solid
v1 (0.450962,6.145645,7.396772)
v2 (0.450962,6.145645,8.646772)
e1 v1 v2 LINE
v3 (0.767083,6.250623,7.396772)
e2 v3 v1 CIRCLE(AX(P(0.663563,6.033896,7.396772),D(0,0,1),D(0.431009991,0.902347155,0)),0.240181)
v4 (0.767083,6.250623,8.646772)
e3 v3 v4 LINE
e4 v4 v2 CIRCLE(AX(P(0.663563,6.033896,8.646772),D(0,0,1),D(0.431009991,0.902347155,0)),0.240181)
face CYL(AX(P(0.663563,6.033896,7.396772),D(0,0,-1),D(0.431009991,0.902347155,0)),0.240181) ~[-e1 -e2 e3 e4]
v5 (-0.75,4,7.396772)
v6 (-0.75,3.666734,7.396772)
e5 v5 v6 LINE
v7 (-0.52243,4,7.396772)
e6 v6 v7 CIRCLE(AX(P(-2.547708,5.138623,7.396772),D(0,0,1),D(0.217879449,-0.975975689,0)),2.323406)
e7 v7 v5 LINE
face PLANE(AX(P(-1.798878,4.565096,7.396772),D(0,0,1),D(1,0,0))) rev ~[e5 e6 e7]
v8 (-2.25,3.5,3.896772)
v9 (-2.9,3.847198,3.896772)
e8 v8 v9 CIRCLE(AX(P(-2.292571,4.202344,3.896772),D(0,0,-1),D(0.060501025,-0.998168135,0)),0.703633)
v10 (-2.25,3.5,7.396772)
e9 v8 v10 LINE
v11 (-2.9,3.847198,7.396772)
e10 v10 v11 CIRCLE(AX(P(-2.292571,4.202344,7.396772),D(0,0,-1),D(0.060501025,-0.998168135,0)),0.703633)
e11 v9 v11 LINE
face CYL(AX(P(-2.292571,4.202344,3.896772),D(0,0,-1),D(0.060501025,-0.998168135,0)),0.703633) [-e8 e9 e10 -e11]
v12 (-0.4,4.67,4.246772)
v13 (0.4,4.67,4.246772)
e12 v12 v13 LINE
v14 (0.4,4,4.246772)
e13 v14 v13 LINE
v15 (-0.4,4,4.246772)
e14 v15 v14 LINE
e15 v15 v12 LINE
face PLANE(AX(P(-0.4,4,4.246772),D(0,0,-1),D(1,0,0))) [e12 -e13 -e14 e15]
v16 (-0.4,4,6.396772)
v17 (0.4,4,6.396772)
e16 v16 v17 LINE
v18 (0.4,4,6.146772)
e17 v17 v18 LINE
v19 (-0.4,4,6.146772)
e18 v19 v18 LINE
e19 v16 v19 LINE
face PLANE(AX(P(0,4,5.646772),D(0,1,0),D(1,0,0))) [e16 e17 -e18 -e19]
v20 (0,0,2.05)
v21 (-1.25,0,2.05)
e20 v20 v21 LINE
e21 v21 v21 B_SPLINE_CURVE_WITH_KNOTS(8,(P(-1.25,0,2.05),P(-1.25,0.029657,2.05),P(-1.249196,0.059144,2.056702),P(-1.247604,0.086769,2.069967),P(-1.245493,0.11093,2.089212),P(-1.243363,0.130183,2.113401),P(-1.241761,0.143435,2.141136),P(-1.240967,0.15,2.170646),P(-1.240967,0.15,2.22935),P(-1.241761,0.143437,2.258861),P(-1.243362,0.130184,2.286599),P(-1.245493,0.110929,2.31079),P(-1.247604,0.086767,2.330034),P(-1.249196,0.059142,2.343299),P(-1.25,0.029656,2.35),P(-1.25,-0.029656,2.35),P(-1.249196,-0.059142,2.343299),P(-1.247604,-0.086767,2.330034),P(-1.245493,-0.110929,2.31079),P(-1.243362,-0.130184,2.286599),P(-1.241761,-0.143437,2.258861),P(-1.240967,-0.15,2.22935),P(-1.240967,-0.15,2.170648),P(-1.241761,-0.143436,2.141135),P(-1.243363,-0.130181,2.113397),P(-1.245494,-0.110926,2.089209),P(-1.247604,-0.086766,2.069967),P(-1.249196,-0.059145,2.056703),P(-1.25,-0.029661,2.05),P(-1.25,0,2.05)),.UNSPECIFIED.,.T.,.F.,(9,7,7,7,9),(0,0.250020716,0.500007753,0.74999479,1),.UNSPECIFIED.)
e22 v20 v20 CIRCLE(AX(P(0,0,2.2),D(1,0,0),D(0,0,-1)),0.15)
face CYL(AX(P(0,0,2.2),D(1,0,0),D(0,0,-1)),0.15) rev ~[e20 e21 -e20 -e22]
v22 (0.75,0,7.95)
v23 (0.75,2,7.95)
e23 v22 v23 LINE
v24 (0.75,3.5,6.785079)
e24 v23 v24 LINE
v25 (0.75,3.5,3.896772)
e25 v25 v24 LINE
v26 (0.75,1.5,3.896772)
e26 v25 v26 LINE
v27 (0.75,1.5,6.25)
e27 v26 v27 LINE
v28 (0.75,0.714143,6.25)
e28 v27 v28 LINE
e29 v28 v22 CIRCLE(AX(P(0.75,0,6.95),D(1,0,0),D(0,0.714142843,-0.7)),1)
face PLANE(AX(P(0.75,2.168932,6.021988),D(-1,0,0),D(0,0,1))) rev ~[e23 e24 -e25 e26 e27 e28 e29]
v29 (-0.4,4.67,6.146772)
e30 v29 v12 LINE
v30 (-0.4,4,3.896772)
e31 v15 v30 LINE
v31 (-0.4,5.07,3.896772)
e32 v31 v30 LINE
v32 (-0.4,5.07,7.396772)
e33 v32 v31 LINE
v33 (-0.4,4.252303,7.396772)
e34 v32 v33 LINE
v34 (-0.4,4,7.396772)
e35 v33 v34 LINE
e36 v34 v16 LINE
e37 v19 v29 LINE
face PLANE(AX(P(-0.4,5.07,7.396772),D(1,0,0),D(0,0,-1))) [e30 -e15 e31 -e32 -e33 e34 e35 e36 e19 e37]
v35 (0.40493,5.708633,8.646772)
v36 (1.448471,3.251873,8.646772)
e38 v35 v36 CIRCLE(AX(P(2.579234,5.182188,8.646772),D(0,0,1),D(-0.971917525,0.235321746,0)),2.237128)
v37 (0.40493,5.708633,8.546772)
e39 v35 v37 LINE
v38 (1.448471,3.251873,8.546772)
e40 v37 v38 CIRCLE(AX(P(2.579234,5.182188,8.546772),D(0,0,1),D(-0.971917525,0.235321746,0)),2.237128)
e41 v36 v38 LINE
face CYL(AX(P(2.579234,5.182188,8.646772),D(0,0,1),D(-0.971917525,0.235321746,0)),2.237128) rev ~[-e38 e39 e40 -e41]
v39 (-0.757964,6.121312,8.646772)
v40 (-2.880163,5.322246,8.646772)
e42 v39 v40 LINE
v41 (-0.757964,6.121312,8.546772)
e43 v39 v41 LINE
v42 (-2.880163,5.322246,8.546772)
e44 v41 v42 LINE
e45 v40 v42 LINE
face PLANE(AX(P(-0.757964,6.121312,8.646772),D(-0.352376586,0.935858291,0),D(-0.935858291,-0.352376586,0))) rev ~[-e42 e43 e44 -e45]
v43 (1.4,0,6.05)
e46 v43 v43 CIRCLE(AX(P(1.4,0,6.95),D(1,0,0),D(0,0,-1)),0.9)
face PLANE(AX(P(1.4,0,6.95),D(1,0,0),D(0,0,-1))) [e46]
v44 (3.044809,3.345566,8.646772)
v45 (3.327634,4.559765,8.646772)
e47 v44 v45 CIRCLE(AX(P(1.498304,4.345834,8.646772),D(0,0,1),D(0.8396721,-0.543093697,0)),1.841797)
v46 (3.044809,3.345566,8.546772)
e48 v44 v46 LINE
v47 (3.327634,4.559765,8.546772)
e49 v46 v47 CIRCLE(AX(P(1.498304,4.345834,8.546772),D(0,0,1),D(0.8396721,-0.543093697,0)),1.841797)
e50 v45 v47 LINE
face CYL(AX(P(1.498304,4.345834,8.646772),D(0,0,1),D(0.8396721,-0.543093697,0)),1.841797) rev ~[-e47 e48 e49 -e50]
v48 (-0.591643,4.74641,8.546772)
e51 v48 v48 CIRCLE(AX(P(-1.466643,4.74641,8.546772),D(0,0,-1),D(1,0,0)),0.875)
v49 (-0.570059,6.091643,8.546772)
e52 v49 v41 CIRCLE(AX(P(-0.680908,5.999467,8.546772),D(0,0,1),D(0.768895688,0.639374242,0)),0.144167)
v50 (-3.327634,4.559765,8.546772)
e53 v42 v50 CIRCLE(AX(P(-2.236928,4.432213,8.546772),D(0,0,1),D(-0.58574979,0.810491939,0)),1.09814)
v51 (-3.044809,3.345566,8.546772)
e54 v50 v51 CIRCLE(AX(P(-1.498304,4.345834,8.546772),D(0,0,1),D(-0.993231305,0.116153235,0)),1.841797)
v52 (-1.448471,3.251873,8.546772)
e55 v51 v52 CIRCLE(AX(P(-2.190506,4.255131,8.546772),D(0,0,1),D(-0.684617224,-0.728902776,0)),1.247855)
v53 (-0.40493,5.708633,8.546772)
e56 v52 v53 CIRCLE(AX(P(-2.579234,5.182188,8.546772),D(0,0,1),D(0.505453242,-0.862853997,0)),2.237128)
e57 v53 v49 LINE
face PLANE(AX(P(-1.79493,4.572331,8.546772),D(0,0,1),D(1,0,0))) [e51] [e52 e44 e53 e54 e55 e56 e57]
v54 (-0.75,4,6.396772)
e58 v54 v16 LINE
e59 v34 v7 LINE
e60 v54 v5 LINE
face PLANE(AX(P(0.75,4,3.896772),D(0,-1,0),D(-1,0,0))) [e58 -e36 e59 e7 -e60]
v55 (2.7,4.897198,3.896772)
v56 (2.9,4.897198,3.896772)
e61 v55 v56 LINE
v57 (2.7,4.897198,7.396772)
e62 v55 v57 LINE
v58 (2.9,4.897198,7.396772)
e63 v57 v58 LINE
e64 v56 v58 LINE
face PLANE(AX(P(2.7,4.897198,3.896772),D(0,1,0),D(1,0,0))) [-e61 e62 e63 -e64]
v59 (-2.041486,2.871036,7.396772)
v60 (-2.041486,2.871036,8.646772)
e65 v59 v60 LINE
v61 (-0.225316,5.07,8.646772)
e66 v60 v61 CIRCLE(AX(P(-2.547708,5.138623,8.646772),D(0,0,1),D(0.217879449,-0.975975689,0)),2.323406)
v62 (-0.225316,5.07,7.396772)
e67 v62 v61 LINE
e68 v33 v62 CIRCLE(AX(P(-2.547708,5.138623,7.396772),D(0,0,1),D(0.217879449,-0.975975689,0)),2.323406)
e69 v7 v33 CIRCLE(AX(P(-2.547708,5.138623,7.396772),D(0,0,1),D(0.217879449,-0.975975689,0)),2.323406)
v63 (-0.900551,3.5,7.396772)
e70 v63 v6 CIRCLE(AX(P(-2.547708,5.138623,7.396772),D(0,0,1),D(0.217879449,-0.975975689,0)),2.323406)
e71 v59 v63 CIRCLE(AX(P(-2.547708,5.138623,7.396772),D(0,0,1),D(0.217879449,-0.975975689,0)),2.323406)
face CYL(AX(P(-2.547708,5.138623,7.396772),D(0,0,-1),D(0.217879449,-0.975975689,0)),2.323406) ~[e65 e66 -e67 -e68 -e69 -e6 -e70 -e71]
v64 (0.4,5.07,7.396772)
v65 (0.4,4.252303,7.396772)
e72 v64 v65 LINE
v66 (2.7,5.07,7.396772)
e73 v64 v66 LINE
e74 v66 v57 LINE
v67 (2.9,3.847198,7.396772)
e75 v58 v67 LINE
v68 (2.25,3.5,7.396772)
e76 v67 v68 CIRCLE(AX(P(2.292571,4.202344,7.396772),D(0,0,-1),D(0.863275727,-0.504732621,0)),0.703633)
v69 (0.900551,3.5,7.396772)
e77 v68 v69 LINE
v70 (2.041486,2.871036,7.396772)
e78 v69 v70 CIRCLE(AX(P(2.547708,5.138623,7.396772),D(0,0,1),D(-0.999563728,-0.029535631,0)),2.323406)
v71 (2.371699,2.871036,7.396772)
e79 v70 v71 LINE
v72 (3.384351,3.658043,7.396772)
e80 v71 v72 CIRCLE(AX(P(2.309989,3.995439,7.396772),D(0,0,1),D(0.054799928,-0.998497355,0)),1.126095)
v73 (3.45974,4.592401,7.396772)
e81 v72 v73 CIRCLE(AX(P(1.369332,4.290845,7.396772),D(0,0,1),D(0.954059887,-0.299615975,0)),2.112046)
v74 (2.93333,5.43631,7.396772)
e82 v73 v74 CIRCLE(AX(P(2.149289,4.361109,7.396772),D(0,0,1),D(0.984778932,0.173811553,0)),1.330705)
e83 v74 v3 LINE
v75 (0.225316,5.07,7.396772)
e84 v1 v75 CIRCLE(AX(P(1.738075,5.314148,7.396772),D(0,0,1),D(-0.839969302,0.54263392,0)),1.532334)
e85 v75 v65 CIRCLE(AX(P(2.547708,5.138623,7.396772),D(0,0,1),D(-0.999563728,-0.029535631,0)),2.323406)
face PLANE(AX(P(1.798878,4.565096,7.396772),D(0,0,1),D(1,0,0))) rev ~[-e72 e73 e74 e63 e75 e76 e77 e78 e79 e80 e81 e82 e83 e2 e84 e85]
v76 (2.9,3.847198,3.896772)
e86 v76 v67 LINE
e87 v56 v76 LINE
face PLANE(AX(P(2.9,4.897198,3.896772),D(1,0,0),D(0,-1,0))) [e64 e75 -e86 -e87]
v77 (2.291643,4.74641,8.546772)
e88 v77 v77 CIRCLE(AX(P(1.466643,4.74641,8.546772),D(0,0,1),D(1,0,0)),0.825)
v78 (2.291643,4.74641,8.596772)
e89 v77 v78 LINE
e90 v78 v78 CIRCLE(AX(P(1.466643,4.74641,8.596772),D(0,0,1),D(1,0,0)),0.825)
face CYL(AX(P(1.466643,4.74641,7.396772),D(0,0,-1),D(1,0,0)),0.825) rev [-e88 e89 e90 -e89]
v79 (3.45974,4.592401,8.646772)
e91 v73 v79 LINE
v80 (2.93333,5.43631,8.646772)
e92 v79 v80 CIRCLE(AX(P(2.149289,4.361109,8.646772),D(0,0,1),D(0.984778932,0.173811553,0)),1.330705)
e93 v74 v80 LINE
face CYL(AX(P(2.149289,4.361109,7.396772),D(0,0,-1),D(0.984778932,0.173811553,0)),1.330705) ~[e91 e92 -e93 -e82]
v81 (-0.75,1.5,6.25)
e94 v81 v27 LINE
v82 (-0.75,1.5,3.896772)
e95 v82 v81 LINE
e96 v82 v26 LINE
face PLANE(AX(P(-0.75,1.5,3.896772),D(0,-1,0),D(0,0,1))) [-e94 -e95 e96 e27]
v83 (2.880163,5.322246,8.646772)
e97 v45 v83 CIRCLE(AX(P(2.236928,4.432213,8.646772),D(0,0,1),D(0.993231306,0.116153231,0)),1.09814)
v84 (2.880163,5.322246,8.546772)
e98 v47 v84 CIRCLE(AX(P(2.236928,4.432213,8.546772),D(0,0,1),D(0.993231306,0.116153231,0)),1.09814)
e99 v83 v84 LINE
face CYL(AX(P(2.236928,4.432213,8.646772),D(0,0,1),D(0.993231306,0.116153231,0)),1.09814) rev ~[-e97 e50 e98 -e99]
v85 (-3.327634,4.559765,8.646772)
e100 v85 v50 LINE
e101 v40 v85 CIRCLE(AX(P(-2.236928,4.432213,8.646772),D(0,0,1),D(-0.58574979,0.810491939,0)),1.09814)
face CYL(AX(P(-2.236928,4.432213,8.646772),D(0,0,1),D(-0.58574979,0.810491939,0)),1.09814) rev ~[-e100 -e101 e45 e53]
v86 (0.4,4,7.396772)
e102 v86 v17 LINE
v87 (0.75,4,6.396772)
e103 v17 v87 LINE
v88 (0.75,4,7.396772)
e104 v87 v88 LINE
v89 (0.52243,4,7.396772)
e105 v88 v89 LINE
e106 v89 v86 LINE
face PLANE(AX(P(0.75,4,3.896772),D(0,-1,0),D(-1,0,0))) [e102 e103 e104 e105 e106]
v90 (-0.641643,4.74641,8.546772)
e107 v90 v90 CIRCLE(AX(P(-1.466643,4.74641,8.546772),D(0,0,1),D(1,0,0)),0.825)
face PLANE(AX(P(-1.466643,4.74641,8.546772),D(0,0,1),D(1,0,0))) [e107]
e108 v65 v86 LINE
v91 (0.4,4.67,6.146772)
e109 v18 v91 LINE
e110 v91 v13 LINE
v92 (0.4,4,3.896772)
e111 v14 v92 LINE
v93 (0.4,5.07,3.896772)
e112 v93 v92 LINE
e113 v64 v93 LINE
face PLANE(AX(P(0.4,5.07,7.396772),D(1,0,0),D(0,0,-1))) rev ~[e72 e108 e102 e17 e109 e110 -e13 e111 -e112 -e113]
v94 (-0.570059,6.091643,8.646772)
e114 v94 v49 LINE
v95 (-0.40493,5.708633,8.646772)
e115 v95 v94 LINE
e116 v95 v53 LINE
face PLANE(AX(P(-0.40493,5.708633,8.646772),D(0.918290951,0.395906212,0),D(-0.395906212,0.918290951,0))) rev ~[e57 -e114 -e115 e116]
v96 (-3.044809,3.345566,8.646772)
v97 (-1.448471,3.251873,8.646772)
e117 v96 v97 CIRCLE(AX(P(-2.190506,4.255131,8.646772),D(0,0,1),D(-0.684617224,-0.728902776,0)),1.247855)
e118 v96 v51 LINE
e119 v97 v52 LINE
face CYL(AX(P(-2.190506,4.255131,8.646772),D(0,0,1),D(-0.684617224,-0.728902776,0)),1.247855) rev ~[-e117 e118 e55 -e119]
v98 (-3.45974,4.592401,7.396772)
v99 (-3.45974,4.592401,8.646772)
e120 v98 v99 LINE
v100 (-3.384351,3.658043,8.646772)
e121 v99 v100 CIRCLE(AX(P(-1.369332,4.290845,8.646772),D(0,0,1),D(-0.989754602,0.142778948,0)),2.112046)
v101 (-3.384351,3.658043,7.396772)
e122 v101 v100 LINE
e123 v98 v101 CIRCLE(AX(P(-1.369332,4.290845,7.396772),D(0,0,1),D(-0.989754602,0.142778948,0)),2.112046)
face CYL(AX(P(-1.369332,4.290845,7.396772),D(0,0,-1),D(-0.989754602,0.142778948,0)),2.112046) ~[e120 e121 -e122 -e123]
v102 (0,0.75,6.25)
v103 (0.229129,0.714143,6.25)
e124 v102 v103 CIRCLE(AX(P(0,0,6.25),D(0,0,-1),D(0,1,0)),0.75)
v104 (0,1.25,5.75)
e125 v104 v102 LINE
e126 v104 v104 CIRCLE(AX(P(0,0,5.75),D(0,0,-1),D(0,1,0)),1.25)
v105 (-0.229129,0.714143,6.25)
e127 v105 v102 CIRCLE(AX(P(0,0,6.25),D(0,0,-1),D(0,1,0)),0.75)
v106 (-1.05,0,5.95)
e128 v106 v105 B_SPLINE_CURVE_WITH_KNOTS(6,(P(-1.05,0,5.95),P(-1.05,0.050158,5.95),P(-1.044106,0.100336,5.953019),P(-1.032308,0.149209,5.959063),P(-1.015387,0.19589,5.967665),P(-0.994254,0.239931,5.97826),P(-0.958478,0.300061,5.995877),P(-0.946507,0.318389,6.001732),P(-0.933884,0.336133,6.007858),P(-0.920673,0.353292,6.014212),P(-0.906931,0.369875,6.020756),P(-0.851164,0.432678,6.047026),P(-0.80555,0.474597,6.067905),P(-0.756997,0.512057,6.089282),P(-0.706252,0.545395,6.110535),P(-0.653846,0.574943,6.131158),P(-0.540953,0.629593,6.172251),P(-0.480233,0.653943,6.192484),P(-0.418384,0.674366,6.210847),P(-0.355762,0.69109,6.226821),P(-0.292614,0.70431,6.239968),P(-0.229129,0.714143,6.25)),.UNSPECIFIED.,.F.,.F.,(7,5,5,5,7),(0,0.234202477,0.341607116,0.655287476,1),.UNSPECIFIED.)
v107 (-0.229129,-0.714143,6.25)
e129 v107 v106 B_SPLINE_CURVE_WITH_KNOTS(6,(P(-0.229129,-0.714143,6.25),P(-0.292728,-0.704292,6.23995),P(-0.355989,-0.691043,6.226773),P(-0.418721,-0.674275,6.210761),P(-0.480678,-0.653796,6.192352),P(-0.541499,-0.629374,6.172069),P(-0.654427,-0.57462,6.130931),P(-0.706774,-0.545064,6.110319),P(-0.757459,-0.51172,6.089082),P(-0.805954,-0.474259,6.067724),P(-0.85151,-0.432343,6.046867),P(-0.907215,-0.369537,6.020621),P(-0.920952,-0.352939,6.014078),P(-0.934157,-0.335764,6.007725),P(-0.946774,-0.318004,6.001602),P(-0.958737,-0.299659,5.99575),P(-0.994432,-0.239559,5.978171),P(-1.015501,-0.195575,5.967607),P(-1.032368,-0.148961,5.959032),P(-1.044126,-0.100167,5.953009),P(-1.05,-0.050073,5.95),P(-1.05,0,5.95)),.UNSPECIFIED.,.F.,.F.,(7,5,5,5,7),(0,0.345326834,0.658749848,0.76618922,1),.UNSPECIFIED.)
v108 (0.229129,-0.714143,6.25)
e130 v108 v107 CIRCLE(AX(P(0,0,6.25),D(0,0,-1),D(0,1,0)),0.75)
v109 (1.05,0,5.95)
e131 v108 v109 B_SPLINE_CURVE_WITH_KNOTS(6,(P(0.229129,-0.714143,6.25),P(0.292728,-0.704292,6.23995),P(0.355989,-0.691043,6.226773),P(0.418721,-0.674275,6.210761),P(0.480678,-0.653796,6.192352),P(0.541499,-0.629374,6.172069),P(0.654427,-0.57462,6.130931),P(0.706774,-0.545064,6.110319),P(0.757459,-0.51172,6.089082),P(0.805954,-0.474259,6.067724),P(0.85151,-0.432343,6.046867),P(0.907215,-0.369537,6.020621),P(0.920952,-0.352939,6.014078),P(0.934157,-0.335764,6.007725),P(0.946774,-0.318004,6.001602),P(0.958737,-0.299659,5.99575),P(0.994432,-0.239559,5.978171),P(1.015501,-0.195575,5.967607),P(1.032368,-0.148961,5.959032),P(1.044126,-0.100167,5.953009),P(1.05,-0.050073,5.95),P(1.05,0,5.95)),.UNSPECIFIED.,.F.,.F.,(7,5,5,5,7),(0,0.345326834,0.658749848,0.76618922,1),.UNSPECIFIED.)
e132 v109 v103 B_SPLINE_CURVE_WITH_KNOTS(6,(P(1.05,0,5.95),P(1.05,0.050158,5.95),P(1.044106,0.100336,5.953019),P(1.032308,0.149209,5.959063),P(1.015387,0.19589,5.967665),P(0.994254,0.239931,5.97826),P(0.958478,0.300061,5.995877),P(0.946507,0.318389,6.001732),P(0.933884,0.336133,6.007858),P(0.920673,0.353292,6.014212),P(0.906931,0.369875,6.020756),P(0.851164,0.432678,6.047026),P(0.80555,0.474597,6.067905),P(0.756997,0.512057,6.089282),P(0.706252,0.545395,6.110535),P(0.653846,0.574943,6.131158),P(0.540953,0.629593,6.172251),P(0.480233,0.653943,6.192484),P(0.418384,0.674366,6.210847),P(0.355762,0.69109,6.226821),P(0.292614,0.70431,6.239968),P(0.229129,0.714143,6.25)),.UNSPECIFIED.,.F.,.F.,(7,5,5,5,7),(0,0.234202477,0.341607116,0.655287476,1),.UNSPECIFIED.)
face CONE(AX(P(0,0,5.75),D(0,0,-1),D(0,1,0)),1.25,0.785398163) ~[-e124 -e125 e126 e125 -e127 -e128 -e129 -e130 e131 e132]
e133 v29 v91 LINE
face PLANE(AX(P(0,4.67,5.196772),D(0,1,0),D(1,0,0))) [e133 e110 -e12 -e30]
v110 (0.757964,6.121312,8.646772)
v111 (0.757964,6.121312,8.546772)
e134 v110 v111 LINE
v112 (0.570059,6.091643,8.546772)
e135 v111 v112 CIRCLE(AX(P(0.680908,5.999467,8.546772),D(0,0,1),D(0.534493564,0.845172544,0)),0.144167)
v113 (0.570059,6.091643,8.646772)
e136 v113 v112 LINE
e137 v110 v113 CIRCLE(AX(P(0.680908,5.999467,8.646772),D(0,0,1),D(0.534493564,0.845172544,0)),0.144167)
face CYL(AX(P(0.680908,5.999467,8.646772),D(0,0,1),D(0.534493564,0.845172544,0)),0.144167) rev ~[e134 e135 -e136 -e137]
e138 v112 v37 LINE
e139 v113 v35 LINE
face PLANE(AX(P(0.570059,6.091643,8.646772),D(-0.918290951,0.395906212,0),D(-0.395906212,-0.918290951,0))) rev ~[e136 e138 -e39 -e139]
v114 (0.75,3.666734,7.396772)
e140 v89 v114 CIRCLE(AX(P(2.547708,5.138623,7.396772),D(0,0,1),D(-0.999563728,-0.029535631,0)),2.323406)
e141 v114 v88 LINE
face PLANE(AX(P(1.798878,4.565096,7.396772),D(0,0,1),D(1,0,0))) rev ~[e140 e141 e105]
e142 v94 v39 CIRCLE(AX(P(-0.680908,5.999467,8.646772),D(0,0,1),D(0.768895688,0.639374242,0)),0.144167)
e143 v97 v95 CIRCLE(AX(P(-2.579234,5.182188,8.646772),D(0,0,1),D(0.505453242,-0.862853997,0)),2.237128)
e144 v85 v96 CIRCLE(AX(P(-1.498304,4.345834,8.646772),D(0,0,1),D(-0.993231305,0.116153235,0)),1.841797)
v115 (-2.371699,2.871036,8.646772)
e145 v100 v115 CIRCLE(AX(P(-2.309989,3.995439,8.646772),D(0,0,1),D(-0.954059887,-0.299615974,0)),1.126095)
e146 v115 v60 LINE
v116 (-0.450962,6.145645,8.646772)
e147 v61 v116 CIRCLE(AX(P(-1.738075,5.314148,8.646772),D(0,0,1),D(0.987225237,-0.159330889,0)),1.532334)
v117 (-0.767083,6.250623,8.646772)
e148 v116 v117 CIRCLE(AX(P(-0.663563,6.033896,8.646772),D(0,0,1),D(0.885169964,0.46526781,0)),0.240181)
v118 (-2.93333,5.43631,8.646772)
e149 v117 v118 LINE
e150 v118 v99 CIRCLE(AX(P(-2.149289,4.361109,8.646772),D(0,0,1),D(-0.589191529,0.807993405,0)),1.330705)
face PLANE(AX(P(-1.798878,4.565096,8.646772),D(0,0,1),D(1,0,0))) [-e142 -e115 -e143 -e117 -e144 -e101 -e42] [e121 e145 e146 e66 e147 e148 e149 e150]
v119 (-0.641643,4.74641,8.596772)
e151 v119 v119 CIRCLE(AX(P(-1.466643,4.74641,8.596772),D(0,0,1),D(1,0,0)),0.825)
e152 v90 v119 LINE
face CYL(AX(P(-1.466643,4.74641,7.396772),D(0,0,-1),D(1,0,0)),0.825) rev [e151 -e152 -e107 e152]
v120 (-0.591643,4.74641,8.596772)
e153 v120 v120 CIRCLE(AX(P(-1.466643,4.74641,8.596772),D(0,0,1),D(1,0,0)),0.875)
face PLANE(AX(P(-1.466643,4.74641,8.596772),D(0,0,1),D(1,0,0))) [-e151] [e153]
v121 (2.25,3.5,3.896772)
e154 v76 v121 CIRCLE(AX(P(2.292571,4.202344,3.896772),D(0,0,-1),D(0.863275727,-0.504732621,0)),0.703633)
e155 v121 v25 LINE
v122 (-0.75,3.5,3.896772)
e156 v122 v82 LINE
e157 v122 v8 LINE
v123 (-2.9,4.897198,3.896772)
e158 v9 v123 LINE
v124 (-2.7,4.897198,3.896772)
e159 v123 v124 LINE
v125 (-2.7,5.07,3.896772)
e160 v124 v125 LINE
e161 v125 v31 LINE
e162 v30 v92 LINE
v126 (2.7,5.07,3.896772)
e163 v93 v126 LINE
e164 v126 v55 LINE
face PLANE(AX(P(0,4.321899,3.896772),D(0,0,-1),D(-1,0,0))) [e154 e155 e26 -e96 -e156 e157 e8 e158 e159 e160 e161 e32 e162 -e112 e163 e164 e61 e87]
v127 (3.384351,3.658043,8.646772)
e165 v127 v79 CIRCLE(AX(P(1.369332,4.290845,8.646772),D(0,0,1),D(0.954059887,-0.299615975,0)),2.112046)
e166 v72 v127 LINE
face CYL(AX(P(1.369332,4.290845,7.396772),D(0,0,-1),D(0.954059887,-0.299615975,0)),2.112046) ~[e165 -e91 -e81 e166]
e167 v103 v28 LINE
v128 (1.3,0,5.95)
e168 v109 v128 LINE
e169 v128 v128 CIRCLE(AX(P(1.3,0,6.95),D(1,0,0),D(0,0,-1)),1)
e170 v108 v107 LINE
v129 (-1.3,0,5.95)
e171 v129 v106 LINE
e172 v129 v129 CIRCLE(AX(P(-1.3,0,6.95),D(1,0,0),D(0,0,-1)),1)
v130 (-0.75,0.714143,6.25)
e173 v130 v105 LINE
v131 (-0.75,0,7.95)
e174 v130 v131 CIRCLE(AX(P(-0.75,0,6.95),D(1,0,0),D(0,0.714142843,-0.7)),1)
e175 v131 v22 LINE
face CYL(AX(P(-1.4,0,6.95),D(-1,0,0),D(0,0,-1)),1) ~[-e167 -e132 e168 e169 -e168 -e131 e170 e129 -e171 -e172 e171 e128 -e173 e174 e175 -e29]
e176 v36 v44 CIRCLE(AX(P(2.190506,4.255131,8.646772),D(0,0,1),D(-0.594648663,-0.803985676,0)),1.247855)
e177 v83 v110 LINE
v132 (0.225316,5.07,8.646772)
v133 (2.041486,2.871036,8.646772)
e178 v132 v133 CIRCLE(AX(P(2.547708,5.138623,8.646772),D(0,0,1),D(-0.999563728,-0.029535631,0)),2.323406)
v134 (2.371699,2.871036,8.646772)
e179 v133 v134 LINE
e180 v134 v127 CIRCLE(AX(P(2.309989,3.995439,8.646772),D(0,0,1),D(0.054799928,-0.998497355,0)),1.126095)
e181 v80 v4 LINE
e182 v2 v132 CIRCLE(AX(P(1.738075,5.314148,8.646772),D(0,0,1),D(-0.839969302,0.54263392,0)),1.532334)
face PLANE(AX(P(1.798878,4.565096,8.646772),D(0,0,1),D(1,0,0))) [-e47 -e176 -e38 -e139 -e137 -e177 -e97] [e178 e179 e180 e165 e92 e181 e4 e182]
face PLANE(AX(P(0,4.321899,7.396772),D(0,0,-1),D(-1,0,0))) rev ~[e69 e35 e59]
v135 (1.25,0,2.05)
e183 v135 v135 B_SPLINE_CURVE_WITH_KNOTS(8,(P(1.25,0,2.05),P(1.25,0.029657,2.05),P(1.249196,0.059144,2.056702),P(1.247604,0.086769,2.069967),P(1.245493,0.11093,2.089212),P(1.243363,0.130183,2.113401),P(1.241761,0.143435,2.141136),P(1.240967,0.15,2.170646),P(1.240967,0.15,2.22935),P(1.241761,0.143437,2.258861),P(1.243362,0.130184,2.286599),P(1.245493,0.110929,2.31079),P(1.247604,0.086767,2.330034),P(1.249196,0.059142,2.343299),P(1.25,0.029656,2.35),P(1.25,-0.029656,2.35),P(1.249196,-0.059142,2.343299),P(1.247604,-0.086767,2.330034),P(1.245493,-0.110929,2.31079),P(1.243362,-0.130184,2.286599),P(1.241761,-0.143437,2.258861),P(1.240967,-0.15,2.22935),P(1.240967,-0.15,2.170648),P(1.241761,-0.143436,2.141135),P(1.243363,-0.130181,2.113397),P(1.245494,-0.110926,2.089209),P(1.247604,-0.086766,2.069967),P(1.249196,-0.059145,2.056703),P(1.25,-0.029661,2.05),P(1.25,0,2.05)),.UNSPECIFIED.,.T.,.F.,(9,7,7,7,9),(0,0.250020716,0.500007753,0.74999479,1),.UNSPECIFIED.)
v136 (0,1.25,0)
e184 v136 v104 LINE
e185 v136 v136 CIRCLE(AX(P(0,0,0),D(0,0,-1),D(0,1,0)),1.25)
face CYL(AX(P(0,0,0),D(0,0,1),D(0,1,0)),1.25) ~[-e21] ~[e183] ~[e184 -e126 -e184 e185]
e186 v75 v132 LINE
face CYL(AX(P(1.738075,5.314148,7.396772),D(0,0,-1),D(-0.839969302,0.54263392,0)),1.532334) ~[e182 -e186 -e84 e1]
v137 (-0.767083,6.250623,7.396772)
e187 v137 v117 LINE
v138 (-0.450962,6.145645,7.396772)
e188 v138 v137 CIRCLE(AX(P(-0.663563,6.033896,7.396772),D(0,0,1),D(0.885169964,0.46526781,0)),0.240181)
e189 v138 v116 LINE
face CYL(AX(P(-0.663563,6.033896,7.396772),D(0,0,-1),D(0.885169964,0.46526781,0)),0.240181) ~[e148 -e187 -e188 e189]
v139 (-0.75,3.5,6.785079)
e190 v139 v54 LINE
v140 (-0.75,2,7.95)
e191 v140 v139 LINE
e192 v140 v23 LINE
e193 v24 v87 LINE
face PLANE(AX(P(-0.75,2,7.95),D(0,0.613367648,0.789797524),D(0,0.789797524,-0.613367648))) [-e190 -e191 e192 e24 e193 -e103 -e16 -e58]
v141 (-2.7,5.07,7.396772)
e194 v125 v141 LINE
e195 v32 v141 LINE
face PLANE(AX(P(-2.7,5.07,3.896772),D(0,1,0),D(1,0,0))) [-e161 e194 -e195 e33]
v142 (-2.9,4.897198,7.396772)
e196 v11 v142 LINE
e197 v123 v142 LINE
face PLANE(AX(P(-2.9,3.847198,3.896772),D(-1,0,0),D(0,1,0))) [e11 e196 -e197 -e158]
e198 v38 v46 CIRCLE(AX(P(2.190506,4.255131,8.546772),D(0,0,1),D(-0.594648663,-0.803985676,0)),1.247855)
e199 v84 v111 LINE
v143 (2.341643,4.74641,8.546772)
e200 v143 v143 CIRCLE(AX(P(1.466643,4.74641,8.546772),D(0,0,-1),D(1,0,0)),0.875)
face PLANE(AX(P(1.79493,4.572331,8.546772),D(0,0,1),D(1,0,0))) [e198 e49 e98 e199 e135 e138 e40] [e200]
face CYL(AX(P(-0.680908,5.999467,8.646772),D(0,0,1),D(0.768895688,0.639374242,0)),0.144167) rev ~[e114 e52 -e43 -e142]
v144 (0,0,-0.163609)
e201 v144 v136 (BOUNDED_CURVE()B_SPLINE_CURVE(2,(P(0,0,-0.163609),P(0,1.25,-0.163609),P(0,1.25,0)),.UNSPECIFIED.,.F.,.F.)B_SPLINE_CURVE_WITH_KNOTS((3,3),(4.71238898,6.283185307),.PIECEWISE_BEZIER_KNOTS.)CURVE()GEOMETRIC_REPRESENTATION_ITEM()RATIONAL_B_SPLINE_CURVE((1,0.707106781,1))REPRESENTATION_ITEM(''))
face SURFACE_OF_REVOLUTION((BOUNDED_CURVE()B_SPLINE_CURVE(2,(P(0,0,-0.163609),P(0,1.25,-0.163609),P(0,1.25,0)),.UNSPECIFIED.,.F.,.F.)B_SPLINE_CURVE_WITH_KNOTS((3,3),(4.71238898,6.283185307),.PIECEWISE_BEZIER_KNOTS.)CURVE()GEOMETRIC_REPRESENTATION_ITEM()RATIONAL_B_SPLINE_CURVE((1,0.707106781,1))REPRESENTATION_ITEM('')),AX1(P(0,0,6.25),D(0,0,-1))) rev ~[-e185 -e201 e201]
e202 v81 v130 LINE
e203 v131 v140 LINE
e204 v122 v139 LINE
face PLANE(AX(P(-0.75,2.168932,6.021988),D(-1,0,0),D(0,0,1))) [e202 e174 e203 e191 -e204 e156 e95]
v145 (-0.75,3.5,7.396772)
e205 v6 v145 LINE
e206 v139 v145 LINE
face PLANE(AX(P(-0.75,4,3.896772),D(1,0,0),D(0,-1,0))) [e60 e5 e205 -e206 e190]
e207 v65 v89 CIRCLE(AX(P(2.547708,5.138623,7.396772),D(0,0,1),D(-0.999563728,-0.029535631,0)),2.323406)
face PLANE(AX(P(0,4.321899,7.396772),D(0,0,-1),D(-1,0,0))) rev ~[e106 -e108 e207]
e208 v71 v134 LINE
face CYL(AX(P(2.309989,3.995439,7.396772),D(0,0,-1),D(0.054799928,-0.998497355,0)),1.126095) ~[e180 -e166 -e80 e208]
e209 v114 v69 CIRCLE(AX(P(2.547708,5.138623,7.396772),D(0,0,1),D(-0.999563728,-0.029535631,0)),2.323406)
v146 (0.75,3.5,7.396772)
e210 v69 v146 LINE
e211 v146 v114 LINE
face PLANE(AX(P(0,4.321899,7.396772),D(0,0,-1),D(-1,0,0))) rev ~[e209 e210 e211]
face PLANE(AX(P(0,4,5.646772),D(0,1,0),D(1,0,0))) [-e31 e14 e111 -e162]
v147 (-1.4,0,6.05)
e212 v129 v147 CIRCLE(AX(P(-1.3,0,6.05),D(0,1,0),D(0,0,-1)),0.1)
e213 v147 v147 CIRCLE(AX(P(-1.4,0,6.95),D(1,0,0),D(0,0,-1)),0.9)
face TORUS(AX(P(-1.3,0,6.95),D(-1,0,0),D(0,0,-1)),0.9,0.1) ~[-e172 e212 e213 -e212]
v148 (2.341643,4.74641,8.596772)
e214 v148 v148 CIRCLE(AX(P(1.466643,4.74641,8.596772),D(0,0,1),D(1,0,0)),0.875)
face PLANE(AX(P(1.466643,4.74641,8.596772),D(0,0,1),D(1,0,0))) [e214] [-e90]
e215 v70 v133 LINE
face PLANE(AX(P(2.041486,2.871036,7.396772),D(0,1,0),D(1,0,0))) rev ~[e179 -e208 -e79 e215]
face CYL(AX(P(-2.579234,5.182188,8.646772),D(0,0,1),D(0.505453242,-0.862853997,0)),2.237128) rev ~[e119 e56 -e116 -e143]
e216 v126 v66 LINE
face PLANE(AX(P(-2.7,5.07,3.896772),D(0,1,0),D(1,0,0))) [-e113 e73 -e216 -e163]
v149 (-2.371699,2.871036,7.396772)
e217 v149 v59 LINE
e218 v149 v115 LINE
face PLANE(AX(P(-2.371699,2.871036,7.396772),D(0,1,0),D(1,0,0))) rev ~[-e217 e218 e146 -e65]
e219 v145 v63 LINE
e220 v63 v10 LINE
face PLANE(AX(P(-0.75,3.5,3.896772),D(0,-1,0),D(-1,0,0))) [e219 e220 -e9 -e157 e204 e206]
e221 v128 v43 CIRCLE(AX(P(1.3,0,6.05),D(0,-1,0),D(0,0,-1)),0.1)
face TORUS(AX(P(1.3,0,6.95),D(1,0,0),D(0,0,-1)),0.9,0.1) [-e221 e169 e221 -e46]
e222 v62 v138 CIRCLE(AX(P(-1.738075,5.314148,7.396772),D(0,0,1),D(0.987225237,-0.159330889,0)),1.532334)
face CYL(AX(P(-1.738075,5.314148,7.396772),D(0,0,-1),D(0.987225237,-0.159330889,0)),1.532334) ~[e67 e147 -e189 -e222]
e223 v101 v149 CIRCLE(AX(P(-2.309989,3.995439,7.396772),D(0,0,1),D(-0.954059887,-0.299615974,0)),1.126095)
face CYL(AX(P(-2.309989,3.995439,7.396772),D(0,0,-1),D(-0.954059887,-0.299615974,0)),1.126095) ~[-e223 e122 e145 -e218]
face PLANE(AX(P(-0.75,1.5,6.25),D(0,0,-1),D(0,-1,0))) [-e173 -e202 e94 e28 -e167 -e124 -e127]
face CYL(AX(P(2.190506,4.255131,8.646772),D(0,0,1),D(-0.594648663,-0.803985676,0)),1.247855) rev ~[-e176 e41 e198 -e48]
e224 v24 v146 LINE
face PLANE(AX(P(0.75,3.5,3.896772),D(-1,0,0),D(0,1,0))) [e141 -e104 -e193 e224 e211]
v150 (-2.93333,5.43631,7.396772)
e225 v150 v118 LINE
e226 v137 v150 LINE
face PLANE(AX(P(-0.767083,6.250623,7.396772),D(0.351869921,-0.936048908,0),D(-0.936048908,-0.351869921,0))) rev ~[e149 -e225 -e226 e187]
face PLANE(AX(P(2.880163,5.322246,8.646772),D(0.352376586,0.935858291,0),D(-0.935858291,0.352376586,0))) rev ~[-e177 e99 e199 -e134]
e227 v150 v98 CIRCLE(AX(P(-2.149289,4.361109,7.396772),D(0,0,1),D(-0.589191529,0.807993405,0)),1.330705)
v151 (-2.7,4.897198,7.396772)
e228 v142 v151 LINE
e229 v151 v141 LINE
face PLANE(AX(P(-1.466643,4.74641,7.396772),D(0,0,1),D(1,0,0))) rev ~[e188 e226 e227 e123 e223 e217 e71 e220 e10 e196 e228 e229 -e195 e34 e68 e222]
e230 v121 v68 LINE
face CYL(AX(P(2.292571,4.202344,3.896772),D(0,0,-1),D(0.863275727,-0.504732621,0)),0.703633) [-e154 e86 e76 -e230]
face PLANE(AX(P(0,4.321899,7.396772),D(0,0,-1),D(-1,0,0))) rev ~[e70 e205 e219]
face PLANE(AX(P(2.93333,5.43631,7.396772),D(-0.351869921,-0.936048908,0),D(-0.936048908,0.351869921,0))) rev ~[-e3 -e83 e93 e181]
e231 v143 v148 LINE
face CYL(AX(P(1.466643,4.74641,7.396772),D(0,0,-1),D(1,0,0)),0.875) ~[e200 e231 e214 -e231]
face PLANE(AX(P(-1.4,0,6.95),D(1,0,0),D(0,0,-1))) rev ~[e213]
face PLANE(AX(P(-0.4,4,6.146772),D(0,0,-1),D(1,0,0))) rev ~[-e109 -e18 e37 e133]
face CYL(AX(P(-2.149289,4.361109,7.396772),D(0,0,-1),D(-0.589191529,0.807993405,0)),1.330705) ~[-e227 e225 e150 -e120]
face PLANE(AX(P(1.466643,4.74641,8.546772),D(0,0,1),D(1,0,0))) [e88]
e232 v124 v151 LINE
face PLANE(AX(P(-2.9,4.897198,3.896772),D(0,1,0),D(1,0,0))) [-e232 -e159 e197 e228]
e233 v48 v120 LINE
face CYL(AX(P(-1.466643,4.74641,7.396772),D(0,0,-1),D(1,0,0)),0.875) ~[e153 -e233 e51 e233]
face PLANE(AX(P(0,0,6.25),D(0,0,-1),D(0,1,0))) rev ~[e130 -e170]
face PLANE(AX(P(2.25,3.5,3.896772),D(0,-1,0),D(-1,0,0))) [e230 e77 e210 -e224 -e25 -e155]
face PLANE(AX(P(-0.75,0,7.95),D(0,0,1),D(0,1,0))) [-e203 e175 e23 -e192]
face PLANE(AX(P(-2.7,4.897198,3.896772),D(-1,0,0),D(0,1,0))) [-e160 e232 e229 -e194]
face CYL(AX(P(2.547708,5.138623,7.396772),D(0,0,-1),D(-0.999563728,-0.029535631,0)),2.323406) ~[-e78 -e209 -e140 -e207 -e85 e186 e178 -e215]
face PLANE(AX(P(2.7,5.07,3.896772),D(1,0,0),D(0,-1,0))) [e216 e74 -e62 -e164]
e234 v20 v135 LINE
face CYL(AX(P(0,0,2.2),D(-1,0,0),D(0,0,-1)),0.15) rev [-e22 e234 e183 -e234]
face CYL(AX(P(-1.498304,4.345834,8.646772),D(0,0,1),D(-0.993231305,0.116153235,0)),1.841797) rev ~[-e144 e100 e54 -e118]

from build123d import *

# Parameters (mm, degrees)
HINGE_CONNECTED_TO_BOTTOM_TUBE_DEPTH      = 1.4
HINGE_CONNECTED_TO_BOTTOM_TUBE_DEPTH_BACK = 1.4
SKETCH3_R                                 = 1
FILLET_ON_HINGE_R                         = 0.1
BASE_CONNECTED_TO_EYES_DEPTH              = 0.75
BASE_CONNECTED_TO_EYES_DEPTH_BACK         = 0.75
EYE_BACKING_DEPTH                         = 3.5
SKETCH7_W                                 = 0.8
SKETCH7_H                                 = 3.5
EYE_BACKING_DETAILS_DEPTH                 = 1.07
SKETCH8_W                                 = 0.8
SKETCH8_H                                 = 1.9
MIDDLE_OF_EYE_BACKING_DEPTH               = 0.67
SKETCH12_R                                = 0.875
OUTER_EYE_DEPTH                           = 1.25
INNER_EYE_CUT_DEPTH                       = 0.1
SKETCH12_5_R                              = 0.875
SKETCH12_5_R_2                            = 0.825
OUTER_LENS_DEPTH                          = 1.2
SKETCH12_7_R                              = 0.825
INNER_LENS_CUT_DEPTH                      = 1.15
CUT_EXTRUDE3_REACH                        = 13.236
SKETCH15_R                                = 0.15
CUT_EXTRUDE3_DIRECTION_2_REACH            = 13.236


with BuildPart() as part:
    # Sketch2 → Bottom tube (revolve)
    with BuildSketch(Plane(origin=(0, 0, 0), x_dir=(0, 0, -1), z_dir=(1, 0, 0))):
        with BuildLine():
            Line((-6.25, 0), (0.163609492, 0))
            add(Edge.make_bspline(
                [(0.163609492, 0), (0.163609492, 1.25), (0, 1.25)],
                knots=[4.71238898, 4.71238898, 4.71238898, 6.283185307, 6.283185307, 6.283185307], degree=2, weights=[1, 0.707106781, 1]))
            Line((0, 1.25), (-5.75, 1.25))
            Line((-5.75, 1.25), (-6.25, 0.75))
            Line((-6.25, 0.75), (-6.25, 0))
        make_face()
    revolve(axis=Axis((0, 0, 6.25), (0, 0, -1)))

    # Sketch3 → Hinge connected to bottom tube (add, two sides: drawn at the far end of the back side and taken through both)
    with BuildSketch(Plane(origin=(0, 0, 0), x_dir=(0, 0, -1), z_dir=(1, 0, 0)).offset(-HINGE_CONNECTED_TO_BOTTOM_TUBE_DEPTH_BACK)):
        with Locations((-6.95, 0)):
            Circle(SKETCH3_R)
    extrude(amount=HINGE_CONNECTED_TO_BOTTOM_TUBE_DEPTH + HINGE_CONNECTED_TO_BOTTOM_TUBE_DEPTH_BACK)

    # fillet on hinge
    fillet_on_hinge_edges = [part.edges().sort_by_distance(p)[0] for p in [
        (1.4, 0, 7.95),
        (-1.4, 0, 7.95),
    ]]
    fillet(fillet_on_hinge_edges, radius=FILLET_ON_HINGE_R)

    # Sketch4 → base connected to eyes (add, two sides: drawn at the far end of the back side and taken through both)
    with BuildSketch(Plane(origin=(0, 0, 0), x_dir=(0, 0, -1), z_dir=(1, 0, 0)).offset(-BASE_CONNECTED_TO_EYES_DEPTH_BACK)):
        with BuildLine():
            Line((-7.95, 0), (-7.95, 2))
            Line((-7.95, 2), (-6.39677242, 4))
            Line((-6.39677242, 4), (-3.89677242, 4))
            Line((-3.89677242, 4), (-3.89677242, 1.5))
            Line((-3.89677242, 1.5), (-6.25, 1.5))
            Line((-6.25, 1.5), (-6.25, 0.714142843))
            ThreePointArc((-6.25, 0.714142843), (-7.337298335, 0.921954446), (-7.95, 0))
        make_face()
    extrude(amount=BASE_CONNECTED_TO_EYES_DEPTH + BASE_CONNECTED_TO_EYES_DEPTH_BACK)

    # Sketch5 → Eye backing (add)
    with BuildSketch(Plane(origin=(0, 0, 3.89677242), x_dir=(-1, 0, 0), z_dir=(0, 0, -1))):
        with BuildLine():
            Line((0.75, 3.5), (2.25, 3.5))
            ThreePointArc((2.25, 3.5), (2.62408667, 3.581702047), (2.9, 3.847197614))
            Line((2.9, 3.847197614), (2.9, 4.897197614))
            Line((2.9, 4.897197614), (2.7, 4.897197614))
            Line((2.7, 4.897197614), (2.7, 5.07))
            Line((2.7, 5.07), (-2.7, 5.07))
            Line((-2.7, 5.07), (-2.7, 4.897197614))
            Line((-2.7, 4.897197614), (-2.9, 4.897197614))
            Line((-2.9, 4.897197614), (-2.9, 3.847197614))
            ThreePointArc((-2.9, 3.847197614), (-2.62408667, 3.581702047), (-2.25, 3.5))
            Line((-2.25, 3.5), (-0.75, 3.5))
            Line((-0.75, 3.5), (-0.75, 4))
            Line((-0.75, 4), (0.75, 4))
            Line((0.75, 4), (0.75, 3.5))
        make_face()
    extrude(amount=-EYE_BACKING_DEPTH)

    # Sketch7 → Eye backing details (cut)
    with BuildSketch(Plane(origin=(0, 5.07, 0), x_dir=(1, 0, 0), z_dir=(0, 1, 0))):
        with Locations((0, -5.64677242)):
            Rectangle(SKETCH7_W, SKETCH7_H)
    extrude(amount=-EYE_BACKING_DETAILS_DEPTH, mode=Mode.SUBTRACT)

    # Sketch8 → Middle of eye backing (add)
    with BuildSketch(Plane(origin=(0, 4, 0), x_dir=(1, 0, 0), z_dir=(0, 1, 0))):
        with Locations((0, -5.19677242)):
            Rectangle(SKETCH8_W, SKETCH8_H)
    extrude(amount=MIDDLE_OF_EYE_BACKING_DEPTH)

    # Sketch12 → Outer eye (add)
    # profile 1 of 2: a face of its own
    with BuildSketch(Plane.XY.offset(7.39677242)):
        with BuildLine():
            ThreePointArc((-0.450961505, 6.145644801), (-0.587867618, 6.261837628), (-0.767083386, 6.250623109))
            Line((-0.767083386, 6.250623109), (-2.933329516, 5.436310045))
            ThreePointArc((-2.933329516, 5.436310045), (-3.278345677, 5.065387345), (-3.459739663, 4.592401064))
            ThreePointArc((-3.459739663, 4.592401064), (-3.474536987, 4.120986543), (-3.384350783, 3.658042637))
            ThreePointArc((-3.384350783, 3.658042637), (-3.001009551, 3.106292928), (-2.371698574, 2.871035758))
            Line((-2.371698574, 2.871035758), (-2.041485898, 2.871035758))
            ThreePointArc((-2.041485898, 2.871035758), (-0.756304939, 3.659066468), (-0.225316176, 5.07))
            ThreePointArc((-0.225316176, 5.07), (-0.238383659, 5.628748724), (-0.450961505, 6.145644801))
        make_face()
        with Locations((-1.466642551, 4.746410471)):
            Circle(SKETCH12_R, mode=Mode.SUBTRACT)
    # profile 2 of 2: a face of its own
    with BuildSketch(Plane.XY.offset(7.39677242)):
        with BuildLine():
            Line((2.041485898, 2.871035758), (2.371698574, 2.871035758))
            ThreePointArc((2.371698574, 2.871035758), (3.001009551, 3.106292928), (3.384350783, 3.658042637))
            ThreePointArc((3.384350783, 3.658042637), (3.474536987, 4.120986543), (3.459739663, 4.592401064))
            ThreePointArc((3.459739663, 4.592401064), (3.278345677, 5.065387345), (2.933329516, 5.436310045))
            Line((2.933329516, 5.436310045), (0.767083386, 6.250623109))
            ThreePointArc((0.767083386, 6.250623109), (0.587867618, 6.261837628), (0.450961505, 6.145644801))
            ThreePointArc((0.450961505, 6.145644801), (0.238383659, 5.628748724), (0.225316176, 5.07))
            ThreePointArc((0.225316176, 5.07), (0.756304939, 3.659066468), (2.041485898, 2.871035758))
        make_face()
        with Locations((1.466642551, 4.746410471)):
            Circle(SKETCH12_R, mode=Mode.SUBTRACT)
    extrude(amount=OUTER_EYE_DEPTH)

    # Sketch13 → Inner eye cut (cut)
    with BuildSketch(Plane.XY.offset(8.64677242)):
        with BuildLine():
            Line((-0.757964351, 6.121312443), (-2.880162803, 5.322245904))
            ThreePointArc((-2.880162803, 5.322245904), (-3.184019481, 4.988025414), (-3.327634423, 4.55976502))
            ThreePointArc((-3.327634423, 4.55976502), (-3.29208127, 3.928007422), (-3.044809473, 3.345565711))
            ThreePointArc((-3.044809473, 3.345565711), (-2.263619647, 3.009419304), (-1.448470515, 3.251873102))
            ThreePointArc((-1.448470515, 3.251873102), (-0.52016025, 4.307569927), (-0.404930121, 5.708633007))
            Line((-0.404930121, 5.708633007), (-0.570058708, 6.091643131))
            ThreePointArc((-0.570058708, 6.091643131), (-0.658423401, 6.141869268), (-0.757964351, 6.121312443))
        make_face()
        with BuildLine():
            Line((0.570058708, 6.091643131), (0.404930121, 5.708633007))
            ThreePointArc((0.404930121, 5.708633007), (0.52016025, 4.307569927), (1.448470515, 3.251873102))
            ThreePointArc((1.448470515, 3.251873102), (2.263619647, 3.009419304), (3.044809473, 3.345565711))
            ThreePointArc((3.044809473, 3.345565711), (3.29208127, 3.928007422), (3.327634423, 4.55976502))
            ThreePointArc((3.327634423, 4.55976502), (3.184019481, 4.988025414), (2.880162803, 5.322245904))
            Line((2.880162803, 5.322245904), (0.757964351, 6.121312443))
            ThreePointArc((0.757964351, 6.121312443), (0.658423401, 6.141869268), (0.570058708, 6.091643131))
        make_face()
    extrude(amount=-INNER_EYE_CUT_DEPTH, mode=Mode.SUBTRACT)

    # Sketch12_5 → Outer lens (add)
    # profile 1 of 2: a face of its own
    with BuildSketch(Plane.XY.offset(7.39677242)):
        with Locations((-1.466642551, 4.746410471)):
            Circle(SKETCH12_5_R)
        with Locations((-1.466642551, 4.746410471)):
            Circle(SKETCH12_5_R_2, mode=Mode.SUBTRACT)
    # profile 2 of 2: a face of its own
    with BuildSketch(Plane.XY.offset(7.39677242)):
        with Locations((1.466642551, 4.746410471)):
            Circle(SKETCH12_5_R)
        with Locations((1.466642551, 4.746410471)):
            Circle(SKETCH12_5_R_2, mode=Mode.SUBTRACT)
    extrude(amount=OUTER_LENS_DEPTH)

    # Sketch12_7 → Inner lens cut (add)
    with BuildSketch(Plane.XY.offset(7.39677242)):
        with Locations((-1.466642551, 4.746410471)):
            Circle(SKETCH12_7_R)
        with Locations((1.466642551, 4.746410471)):
            Circle(SKETCH12_7_R)
    extrude(amount=INNER_LENS_CUT_DEPTH)

    # Sketch15 → Cut-Extrude3 (cut, up to next)
    with BuildSketch(Plane(origin=(0, 0, 0), x_dir=(0, 0, -1), z_dir=(1, 0, 0)), mode=Mode.PRIVATE) as cut_extrude3_sk1:
        with Locations((-2.2, 0)):
            Circle(SKETCH15_R)
    cut_extrude3_tool1 = extrude(cut_extrude3_sk1.sketch, amount=-CUT_EXTRUDE3_REACH, mode=Mode.PRIVATE) & part.part
    add(cut_extrude3_tool1.solids().sort_by_distance((0, 0, 2.2))[0], mode=Mode.SUBTRACT)

    # Sketch15 → Cut-Extrude3 direction 2 (cut, up to next)
    with BuildSketch(Plane(origin=(0, 0, 0), x_dir=(0, 0, -1), z_dir=(1, 0, 0)), mode=Mode.PRIVATE) as cut_extrude3_direction_2_sk1:
        with Locations((-2.2, 0)):
            Circle(SKETCH15_R)
    cut_extrude3_direction_2_tool1 = extrude(cut_extrude3_direction_2_sk1.sketch, amount=CUT_EXTRUDE3_DIRECTION_2_REACH, mode=Mode.PRIVATE) & part.part
    add(cut_extrude3_direction_2_tool1.solids().sort_by_distance((0, 0, 2.2))[0], mode=Mode.SUBTRACT)


solid = part.part
